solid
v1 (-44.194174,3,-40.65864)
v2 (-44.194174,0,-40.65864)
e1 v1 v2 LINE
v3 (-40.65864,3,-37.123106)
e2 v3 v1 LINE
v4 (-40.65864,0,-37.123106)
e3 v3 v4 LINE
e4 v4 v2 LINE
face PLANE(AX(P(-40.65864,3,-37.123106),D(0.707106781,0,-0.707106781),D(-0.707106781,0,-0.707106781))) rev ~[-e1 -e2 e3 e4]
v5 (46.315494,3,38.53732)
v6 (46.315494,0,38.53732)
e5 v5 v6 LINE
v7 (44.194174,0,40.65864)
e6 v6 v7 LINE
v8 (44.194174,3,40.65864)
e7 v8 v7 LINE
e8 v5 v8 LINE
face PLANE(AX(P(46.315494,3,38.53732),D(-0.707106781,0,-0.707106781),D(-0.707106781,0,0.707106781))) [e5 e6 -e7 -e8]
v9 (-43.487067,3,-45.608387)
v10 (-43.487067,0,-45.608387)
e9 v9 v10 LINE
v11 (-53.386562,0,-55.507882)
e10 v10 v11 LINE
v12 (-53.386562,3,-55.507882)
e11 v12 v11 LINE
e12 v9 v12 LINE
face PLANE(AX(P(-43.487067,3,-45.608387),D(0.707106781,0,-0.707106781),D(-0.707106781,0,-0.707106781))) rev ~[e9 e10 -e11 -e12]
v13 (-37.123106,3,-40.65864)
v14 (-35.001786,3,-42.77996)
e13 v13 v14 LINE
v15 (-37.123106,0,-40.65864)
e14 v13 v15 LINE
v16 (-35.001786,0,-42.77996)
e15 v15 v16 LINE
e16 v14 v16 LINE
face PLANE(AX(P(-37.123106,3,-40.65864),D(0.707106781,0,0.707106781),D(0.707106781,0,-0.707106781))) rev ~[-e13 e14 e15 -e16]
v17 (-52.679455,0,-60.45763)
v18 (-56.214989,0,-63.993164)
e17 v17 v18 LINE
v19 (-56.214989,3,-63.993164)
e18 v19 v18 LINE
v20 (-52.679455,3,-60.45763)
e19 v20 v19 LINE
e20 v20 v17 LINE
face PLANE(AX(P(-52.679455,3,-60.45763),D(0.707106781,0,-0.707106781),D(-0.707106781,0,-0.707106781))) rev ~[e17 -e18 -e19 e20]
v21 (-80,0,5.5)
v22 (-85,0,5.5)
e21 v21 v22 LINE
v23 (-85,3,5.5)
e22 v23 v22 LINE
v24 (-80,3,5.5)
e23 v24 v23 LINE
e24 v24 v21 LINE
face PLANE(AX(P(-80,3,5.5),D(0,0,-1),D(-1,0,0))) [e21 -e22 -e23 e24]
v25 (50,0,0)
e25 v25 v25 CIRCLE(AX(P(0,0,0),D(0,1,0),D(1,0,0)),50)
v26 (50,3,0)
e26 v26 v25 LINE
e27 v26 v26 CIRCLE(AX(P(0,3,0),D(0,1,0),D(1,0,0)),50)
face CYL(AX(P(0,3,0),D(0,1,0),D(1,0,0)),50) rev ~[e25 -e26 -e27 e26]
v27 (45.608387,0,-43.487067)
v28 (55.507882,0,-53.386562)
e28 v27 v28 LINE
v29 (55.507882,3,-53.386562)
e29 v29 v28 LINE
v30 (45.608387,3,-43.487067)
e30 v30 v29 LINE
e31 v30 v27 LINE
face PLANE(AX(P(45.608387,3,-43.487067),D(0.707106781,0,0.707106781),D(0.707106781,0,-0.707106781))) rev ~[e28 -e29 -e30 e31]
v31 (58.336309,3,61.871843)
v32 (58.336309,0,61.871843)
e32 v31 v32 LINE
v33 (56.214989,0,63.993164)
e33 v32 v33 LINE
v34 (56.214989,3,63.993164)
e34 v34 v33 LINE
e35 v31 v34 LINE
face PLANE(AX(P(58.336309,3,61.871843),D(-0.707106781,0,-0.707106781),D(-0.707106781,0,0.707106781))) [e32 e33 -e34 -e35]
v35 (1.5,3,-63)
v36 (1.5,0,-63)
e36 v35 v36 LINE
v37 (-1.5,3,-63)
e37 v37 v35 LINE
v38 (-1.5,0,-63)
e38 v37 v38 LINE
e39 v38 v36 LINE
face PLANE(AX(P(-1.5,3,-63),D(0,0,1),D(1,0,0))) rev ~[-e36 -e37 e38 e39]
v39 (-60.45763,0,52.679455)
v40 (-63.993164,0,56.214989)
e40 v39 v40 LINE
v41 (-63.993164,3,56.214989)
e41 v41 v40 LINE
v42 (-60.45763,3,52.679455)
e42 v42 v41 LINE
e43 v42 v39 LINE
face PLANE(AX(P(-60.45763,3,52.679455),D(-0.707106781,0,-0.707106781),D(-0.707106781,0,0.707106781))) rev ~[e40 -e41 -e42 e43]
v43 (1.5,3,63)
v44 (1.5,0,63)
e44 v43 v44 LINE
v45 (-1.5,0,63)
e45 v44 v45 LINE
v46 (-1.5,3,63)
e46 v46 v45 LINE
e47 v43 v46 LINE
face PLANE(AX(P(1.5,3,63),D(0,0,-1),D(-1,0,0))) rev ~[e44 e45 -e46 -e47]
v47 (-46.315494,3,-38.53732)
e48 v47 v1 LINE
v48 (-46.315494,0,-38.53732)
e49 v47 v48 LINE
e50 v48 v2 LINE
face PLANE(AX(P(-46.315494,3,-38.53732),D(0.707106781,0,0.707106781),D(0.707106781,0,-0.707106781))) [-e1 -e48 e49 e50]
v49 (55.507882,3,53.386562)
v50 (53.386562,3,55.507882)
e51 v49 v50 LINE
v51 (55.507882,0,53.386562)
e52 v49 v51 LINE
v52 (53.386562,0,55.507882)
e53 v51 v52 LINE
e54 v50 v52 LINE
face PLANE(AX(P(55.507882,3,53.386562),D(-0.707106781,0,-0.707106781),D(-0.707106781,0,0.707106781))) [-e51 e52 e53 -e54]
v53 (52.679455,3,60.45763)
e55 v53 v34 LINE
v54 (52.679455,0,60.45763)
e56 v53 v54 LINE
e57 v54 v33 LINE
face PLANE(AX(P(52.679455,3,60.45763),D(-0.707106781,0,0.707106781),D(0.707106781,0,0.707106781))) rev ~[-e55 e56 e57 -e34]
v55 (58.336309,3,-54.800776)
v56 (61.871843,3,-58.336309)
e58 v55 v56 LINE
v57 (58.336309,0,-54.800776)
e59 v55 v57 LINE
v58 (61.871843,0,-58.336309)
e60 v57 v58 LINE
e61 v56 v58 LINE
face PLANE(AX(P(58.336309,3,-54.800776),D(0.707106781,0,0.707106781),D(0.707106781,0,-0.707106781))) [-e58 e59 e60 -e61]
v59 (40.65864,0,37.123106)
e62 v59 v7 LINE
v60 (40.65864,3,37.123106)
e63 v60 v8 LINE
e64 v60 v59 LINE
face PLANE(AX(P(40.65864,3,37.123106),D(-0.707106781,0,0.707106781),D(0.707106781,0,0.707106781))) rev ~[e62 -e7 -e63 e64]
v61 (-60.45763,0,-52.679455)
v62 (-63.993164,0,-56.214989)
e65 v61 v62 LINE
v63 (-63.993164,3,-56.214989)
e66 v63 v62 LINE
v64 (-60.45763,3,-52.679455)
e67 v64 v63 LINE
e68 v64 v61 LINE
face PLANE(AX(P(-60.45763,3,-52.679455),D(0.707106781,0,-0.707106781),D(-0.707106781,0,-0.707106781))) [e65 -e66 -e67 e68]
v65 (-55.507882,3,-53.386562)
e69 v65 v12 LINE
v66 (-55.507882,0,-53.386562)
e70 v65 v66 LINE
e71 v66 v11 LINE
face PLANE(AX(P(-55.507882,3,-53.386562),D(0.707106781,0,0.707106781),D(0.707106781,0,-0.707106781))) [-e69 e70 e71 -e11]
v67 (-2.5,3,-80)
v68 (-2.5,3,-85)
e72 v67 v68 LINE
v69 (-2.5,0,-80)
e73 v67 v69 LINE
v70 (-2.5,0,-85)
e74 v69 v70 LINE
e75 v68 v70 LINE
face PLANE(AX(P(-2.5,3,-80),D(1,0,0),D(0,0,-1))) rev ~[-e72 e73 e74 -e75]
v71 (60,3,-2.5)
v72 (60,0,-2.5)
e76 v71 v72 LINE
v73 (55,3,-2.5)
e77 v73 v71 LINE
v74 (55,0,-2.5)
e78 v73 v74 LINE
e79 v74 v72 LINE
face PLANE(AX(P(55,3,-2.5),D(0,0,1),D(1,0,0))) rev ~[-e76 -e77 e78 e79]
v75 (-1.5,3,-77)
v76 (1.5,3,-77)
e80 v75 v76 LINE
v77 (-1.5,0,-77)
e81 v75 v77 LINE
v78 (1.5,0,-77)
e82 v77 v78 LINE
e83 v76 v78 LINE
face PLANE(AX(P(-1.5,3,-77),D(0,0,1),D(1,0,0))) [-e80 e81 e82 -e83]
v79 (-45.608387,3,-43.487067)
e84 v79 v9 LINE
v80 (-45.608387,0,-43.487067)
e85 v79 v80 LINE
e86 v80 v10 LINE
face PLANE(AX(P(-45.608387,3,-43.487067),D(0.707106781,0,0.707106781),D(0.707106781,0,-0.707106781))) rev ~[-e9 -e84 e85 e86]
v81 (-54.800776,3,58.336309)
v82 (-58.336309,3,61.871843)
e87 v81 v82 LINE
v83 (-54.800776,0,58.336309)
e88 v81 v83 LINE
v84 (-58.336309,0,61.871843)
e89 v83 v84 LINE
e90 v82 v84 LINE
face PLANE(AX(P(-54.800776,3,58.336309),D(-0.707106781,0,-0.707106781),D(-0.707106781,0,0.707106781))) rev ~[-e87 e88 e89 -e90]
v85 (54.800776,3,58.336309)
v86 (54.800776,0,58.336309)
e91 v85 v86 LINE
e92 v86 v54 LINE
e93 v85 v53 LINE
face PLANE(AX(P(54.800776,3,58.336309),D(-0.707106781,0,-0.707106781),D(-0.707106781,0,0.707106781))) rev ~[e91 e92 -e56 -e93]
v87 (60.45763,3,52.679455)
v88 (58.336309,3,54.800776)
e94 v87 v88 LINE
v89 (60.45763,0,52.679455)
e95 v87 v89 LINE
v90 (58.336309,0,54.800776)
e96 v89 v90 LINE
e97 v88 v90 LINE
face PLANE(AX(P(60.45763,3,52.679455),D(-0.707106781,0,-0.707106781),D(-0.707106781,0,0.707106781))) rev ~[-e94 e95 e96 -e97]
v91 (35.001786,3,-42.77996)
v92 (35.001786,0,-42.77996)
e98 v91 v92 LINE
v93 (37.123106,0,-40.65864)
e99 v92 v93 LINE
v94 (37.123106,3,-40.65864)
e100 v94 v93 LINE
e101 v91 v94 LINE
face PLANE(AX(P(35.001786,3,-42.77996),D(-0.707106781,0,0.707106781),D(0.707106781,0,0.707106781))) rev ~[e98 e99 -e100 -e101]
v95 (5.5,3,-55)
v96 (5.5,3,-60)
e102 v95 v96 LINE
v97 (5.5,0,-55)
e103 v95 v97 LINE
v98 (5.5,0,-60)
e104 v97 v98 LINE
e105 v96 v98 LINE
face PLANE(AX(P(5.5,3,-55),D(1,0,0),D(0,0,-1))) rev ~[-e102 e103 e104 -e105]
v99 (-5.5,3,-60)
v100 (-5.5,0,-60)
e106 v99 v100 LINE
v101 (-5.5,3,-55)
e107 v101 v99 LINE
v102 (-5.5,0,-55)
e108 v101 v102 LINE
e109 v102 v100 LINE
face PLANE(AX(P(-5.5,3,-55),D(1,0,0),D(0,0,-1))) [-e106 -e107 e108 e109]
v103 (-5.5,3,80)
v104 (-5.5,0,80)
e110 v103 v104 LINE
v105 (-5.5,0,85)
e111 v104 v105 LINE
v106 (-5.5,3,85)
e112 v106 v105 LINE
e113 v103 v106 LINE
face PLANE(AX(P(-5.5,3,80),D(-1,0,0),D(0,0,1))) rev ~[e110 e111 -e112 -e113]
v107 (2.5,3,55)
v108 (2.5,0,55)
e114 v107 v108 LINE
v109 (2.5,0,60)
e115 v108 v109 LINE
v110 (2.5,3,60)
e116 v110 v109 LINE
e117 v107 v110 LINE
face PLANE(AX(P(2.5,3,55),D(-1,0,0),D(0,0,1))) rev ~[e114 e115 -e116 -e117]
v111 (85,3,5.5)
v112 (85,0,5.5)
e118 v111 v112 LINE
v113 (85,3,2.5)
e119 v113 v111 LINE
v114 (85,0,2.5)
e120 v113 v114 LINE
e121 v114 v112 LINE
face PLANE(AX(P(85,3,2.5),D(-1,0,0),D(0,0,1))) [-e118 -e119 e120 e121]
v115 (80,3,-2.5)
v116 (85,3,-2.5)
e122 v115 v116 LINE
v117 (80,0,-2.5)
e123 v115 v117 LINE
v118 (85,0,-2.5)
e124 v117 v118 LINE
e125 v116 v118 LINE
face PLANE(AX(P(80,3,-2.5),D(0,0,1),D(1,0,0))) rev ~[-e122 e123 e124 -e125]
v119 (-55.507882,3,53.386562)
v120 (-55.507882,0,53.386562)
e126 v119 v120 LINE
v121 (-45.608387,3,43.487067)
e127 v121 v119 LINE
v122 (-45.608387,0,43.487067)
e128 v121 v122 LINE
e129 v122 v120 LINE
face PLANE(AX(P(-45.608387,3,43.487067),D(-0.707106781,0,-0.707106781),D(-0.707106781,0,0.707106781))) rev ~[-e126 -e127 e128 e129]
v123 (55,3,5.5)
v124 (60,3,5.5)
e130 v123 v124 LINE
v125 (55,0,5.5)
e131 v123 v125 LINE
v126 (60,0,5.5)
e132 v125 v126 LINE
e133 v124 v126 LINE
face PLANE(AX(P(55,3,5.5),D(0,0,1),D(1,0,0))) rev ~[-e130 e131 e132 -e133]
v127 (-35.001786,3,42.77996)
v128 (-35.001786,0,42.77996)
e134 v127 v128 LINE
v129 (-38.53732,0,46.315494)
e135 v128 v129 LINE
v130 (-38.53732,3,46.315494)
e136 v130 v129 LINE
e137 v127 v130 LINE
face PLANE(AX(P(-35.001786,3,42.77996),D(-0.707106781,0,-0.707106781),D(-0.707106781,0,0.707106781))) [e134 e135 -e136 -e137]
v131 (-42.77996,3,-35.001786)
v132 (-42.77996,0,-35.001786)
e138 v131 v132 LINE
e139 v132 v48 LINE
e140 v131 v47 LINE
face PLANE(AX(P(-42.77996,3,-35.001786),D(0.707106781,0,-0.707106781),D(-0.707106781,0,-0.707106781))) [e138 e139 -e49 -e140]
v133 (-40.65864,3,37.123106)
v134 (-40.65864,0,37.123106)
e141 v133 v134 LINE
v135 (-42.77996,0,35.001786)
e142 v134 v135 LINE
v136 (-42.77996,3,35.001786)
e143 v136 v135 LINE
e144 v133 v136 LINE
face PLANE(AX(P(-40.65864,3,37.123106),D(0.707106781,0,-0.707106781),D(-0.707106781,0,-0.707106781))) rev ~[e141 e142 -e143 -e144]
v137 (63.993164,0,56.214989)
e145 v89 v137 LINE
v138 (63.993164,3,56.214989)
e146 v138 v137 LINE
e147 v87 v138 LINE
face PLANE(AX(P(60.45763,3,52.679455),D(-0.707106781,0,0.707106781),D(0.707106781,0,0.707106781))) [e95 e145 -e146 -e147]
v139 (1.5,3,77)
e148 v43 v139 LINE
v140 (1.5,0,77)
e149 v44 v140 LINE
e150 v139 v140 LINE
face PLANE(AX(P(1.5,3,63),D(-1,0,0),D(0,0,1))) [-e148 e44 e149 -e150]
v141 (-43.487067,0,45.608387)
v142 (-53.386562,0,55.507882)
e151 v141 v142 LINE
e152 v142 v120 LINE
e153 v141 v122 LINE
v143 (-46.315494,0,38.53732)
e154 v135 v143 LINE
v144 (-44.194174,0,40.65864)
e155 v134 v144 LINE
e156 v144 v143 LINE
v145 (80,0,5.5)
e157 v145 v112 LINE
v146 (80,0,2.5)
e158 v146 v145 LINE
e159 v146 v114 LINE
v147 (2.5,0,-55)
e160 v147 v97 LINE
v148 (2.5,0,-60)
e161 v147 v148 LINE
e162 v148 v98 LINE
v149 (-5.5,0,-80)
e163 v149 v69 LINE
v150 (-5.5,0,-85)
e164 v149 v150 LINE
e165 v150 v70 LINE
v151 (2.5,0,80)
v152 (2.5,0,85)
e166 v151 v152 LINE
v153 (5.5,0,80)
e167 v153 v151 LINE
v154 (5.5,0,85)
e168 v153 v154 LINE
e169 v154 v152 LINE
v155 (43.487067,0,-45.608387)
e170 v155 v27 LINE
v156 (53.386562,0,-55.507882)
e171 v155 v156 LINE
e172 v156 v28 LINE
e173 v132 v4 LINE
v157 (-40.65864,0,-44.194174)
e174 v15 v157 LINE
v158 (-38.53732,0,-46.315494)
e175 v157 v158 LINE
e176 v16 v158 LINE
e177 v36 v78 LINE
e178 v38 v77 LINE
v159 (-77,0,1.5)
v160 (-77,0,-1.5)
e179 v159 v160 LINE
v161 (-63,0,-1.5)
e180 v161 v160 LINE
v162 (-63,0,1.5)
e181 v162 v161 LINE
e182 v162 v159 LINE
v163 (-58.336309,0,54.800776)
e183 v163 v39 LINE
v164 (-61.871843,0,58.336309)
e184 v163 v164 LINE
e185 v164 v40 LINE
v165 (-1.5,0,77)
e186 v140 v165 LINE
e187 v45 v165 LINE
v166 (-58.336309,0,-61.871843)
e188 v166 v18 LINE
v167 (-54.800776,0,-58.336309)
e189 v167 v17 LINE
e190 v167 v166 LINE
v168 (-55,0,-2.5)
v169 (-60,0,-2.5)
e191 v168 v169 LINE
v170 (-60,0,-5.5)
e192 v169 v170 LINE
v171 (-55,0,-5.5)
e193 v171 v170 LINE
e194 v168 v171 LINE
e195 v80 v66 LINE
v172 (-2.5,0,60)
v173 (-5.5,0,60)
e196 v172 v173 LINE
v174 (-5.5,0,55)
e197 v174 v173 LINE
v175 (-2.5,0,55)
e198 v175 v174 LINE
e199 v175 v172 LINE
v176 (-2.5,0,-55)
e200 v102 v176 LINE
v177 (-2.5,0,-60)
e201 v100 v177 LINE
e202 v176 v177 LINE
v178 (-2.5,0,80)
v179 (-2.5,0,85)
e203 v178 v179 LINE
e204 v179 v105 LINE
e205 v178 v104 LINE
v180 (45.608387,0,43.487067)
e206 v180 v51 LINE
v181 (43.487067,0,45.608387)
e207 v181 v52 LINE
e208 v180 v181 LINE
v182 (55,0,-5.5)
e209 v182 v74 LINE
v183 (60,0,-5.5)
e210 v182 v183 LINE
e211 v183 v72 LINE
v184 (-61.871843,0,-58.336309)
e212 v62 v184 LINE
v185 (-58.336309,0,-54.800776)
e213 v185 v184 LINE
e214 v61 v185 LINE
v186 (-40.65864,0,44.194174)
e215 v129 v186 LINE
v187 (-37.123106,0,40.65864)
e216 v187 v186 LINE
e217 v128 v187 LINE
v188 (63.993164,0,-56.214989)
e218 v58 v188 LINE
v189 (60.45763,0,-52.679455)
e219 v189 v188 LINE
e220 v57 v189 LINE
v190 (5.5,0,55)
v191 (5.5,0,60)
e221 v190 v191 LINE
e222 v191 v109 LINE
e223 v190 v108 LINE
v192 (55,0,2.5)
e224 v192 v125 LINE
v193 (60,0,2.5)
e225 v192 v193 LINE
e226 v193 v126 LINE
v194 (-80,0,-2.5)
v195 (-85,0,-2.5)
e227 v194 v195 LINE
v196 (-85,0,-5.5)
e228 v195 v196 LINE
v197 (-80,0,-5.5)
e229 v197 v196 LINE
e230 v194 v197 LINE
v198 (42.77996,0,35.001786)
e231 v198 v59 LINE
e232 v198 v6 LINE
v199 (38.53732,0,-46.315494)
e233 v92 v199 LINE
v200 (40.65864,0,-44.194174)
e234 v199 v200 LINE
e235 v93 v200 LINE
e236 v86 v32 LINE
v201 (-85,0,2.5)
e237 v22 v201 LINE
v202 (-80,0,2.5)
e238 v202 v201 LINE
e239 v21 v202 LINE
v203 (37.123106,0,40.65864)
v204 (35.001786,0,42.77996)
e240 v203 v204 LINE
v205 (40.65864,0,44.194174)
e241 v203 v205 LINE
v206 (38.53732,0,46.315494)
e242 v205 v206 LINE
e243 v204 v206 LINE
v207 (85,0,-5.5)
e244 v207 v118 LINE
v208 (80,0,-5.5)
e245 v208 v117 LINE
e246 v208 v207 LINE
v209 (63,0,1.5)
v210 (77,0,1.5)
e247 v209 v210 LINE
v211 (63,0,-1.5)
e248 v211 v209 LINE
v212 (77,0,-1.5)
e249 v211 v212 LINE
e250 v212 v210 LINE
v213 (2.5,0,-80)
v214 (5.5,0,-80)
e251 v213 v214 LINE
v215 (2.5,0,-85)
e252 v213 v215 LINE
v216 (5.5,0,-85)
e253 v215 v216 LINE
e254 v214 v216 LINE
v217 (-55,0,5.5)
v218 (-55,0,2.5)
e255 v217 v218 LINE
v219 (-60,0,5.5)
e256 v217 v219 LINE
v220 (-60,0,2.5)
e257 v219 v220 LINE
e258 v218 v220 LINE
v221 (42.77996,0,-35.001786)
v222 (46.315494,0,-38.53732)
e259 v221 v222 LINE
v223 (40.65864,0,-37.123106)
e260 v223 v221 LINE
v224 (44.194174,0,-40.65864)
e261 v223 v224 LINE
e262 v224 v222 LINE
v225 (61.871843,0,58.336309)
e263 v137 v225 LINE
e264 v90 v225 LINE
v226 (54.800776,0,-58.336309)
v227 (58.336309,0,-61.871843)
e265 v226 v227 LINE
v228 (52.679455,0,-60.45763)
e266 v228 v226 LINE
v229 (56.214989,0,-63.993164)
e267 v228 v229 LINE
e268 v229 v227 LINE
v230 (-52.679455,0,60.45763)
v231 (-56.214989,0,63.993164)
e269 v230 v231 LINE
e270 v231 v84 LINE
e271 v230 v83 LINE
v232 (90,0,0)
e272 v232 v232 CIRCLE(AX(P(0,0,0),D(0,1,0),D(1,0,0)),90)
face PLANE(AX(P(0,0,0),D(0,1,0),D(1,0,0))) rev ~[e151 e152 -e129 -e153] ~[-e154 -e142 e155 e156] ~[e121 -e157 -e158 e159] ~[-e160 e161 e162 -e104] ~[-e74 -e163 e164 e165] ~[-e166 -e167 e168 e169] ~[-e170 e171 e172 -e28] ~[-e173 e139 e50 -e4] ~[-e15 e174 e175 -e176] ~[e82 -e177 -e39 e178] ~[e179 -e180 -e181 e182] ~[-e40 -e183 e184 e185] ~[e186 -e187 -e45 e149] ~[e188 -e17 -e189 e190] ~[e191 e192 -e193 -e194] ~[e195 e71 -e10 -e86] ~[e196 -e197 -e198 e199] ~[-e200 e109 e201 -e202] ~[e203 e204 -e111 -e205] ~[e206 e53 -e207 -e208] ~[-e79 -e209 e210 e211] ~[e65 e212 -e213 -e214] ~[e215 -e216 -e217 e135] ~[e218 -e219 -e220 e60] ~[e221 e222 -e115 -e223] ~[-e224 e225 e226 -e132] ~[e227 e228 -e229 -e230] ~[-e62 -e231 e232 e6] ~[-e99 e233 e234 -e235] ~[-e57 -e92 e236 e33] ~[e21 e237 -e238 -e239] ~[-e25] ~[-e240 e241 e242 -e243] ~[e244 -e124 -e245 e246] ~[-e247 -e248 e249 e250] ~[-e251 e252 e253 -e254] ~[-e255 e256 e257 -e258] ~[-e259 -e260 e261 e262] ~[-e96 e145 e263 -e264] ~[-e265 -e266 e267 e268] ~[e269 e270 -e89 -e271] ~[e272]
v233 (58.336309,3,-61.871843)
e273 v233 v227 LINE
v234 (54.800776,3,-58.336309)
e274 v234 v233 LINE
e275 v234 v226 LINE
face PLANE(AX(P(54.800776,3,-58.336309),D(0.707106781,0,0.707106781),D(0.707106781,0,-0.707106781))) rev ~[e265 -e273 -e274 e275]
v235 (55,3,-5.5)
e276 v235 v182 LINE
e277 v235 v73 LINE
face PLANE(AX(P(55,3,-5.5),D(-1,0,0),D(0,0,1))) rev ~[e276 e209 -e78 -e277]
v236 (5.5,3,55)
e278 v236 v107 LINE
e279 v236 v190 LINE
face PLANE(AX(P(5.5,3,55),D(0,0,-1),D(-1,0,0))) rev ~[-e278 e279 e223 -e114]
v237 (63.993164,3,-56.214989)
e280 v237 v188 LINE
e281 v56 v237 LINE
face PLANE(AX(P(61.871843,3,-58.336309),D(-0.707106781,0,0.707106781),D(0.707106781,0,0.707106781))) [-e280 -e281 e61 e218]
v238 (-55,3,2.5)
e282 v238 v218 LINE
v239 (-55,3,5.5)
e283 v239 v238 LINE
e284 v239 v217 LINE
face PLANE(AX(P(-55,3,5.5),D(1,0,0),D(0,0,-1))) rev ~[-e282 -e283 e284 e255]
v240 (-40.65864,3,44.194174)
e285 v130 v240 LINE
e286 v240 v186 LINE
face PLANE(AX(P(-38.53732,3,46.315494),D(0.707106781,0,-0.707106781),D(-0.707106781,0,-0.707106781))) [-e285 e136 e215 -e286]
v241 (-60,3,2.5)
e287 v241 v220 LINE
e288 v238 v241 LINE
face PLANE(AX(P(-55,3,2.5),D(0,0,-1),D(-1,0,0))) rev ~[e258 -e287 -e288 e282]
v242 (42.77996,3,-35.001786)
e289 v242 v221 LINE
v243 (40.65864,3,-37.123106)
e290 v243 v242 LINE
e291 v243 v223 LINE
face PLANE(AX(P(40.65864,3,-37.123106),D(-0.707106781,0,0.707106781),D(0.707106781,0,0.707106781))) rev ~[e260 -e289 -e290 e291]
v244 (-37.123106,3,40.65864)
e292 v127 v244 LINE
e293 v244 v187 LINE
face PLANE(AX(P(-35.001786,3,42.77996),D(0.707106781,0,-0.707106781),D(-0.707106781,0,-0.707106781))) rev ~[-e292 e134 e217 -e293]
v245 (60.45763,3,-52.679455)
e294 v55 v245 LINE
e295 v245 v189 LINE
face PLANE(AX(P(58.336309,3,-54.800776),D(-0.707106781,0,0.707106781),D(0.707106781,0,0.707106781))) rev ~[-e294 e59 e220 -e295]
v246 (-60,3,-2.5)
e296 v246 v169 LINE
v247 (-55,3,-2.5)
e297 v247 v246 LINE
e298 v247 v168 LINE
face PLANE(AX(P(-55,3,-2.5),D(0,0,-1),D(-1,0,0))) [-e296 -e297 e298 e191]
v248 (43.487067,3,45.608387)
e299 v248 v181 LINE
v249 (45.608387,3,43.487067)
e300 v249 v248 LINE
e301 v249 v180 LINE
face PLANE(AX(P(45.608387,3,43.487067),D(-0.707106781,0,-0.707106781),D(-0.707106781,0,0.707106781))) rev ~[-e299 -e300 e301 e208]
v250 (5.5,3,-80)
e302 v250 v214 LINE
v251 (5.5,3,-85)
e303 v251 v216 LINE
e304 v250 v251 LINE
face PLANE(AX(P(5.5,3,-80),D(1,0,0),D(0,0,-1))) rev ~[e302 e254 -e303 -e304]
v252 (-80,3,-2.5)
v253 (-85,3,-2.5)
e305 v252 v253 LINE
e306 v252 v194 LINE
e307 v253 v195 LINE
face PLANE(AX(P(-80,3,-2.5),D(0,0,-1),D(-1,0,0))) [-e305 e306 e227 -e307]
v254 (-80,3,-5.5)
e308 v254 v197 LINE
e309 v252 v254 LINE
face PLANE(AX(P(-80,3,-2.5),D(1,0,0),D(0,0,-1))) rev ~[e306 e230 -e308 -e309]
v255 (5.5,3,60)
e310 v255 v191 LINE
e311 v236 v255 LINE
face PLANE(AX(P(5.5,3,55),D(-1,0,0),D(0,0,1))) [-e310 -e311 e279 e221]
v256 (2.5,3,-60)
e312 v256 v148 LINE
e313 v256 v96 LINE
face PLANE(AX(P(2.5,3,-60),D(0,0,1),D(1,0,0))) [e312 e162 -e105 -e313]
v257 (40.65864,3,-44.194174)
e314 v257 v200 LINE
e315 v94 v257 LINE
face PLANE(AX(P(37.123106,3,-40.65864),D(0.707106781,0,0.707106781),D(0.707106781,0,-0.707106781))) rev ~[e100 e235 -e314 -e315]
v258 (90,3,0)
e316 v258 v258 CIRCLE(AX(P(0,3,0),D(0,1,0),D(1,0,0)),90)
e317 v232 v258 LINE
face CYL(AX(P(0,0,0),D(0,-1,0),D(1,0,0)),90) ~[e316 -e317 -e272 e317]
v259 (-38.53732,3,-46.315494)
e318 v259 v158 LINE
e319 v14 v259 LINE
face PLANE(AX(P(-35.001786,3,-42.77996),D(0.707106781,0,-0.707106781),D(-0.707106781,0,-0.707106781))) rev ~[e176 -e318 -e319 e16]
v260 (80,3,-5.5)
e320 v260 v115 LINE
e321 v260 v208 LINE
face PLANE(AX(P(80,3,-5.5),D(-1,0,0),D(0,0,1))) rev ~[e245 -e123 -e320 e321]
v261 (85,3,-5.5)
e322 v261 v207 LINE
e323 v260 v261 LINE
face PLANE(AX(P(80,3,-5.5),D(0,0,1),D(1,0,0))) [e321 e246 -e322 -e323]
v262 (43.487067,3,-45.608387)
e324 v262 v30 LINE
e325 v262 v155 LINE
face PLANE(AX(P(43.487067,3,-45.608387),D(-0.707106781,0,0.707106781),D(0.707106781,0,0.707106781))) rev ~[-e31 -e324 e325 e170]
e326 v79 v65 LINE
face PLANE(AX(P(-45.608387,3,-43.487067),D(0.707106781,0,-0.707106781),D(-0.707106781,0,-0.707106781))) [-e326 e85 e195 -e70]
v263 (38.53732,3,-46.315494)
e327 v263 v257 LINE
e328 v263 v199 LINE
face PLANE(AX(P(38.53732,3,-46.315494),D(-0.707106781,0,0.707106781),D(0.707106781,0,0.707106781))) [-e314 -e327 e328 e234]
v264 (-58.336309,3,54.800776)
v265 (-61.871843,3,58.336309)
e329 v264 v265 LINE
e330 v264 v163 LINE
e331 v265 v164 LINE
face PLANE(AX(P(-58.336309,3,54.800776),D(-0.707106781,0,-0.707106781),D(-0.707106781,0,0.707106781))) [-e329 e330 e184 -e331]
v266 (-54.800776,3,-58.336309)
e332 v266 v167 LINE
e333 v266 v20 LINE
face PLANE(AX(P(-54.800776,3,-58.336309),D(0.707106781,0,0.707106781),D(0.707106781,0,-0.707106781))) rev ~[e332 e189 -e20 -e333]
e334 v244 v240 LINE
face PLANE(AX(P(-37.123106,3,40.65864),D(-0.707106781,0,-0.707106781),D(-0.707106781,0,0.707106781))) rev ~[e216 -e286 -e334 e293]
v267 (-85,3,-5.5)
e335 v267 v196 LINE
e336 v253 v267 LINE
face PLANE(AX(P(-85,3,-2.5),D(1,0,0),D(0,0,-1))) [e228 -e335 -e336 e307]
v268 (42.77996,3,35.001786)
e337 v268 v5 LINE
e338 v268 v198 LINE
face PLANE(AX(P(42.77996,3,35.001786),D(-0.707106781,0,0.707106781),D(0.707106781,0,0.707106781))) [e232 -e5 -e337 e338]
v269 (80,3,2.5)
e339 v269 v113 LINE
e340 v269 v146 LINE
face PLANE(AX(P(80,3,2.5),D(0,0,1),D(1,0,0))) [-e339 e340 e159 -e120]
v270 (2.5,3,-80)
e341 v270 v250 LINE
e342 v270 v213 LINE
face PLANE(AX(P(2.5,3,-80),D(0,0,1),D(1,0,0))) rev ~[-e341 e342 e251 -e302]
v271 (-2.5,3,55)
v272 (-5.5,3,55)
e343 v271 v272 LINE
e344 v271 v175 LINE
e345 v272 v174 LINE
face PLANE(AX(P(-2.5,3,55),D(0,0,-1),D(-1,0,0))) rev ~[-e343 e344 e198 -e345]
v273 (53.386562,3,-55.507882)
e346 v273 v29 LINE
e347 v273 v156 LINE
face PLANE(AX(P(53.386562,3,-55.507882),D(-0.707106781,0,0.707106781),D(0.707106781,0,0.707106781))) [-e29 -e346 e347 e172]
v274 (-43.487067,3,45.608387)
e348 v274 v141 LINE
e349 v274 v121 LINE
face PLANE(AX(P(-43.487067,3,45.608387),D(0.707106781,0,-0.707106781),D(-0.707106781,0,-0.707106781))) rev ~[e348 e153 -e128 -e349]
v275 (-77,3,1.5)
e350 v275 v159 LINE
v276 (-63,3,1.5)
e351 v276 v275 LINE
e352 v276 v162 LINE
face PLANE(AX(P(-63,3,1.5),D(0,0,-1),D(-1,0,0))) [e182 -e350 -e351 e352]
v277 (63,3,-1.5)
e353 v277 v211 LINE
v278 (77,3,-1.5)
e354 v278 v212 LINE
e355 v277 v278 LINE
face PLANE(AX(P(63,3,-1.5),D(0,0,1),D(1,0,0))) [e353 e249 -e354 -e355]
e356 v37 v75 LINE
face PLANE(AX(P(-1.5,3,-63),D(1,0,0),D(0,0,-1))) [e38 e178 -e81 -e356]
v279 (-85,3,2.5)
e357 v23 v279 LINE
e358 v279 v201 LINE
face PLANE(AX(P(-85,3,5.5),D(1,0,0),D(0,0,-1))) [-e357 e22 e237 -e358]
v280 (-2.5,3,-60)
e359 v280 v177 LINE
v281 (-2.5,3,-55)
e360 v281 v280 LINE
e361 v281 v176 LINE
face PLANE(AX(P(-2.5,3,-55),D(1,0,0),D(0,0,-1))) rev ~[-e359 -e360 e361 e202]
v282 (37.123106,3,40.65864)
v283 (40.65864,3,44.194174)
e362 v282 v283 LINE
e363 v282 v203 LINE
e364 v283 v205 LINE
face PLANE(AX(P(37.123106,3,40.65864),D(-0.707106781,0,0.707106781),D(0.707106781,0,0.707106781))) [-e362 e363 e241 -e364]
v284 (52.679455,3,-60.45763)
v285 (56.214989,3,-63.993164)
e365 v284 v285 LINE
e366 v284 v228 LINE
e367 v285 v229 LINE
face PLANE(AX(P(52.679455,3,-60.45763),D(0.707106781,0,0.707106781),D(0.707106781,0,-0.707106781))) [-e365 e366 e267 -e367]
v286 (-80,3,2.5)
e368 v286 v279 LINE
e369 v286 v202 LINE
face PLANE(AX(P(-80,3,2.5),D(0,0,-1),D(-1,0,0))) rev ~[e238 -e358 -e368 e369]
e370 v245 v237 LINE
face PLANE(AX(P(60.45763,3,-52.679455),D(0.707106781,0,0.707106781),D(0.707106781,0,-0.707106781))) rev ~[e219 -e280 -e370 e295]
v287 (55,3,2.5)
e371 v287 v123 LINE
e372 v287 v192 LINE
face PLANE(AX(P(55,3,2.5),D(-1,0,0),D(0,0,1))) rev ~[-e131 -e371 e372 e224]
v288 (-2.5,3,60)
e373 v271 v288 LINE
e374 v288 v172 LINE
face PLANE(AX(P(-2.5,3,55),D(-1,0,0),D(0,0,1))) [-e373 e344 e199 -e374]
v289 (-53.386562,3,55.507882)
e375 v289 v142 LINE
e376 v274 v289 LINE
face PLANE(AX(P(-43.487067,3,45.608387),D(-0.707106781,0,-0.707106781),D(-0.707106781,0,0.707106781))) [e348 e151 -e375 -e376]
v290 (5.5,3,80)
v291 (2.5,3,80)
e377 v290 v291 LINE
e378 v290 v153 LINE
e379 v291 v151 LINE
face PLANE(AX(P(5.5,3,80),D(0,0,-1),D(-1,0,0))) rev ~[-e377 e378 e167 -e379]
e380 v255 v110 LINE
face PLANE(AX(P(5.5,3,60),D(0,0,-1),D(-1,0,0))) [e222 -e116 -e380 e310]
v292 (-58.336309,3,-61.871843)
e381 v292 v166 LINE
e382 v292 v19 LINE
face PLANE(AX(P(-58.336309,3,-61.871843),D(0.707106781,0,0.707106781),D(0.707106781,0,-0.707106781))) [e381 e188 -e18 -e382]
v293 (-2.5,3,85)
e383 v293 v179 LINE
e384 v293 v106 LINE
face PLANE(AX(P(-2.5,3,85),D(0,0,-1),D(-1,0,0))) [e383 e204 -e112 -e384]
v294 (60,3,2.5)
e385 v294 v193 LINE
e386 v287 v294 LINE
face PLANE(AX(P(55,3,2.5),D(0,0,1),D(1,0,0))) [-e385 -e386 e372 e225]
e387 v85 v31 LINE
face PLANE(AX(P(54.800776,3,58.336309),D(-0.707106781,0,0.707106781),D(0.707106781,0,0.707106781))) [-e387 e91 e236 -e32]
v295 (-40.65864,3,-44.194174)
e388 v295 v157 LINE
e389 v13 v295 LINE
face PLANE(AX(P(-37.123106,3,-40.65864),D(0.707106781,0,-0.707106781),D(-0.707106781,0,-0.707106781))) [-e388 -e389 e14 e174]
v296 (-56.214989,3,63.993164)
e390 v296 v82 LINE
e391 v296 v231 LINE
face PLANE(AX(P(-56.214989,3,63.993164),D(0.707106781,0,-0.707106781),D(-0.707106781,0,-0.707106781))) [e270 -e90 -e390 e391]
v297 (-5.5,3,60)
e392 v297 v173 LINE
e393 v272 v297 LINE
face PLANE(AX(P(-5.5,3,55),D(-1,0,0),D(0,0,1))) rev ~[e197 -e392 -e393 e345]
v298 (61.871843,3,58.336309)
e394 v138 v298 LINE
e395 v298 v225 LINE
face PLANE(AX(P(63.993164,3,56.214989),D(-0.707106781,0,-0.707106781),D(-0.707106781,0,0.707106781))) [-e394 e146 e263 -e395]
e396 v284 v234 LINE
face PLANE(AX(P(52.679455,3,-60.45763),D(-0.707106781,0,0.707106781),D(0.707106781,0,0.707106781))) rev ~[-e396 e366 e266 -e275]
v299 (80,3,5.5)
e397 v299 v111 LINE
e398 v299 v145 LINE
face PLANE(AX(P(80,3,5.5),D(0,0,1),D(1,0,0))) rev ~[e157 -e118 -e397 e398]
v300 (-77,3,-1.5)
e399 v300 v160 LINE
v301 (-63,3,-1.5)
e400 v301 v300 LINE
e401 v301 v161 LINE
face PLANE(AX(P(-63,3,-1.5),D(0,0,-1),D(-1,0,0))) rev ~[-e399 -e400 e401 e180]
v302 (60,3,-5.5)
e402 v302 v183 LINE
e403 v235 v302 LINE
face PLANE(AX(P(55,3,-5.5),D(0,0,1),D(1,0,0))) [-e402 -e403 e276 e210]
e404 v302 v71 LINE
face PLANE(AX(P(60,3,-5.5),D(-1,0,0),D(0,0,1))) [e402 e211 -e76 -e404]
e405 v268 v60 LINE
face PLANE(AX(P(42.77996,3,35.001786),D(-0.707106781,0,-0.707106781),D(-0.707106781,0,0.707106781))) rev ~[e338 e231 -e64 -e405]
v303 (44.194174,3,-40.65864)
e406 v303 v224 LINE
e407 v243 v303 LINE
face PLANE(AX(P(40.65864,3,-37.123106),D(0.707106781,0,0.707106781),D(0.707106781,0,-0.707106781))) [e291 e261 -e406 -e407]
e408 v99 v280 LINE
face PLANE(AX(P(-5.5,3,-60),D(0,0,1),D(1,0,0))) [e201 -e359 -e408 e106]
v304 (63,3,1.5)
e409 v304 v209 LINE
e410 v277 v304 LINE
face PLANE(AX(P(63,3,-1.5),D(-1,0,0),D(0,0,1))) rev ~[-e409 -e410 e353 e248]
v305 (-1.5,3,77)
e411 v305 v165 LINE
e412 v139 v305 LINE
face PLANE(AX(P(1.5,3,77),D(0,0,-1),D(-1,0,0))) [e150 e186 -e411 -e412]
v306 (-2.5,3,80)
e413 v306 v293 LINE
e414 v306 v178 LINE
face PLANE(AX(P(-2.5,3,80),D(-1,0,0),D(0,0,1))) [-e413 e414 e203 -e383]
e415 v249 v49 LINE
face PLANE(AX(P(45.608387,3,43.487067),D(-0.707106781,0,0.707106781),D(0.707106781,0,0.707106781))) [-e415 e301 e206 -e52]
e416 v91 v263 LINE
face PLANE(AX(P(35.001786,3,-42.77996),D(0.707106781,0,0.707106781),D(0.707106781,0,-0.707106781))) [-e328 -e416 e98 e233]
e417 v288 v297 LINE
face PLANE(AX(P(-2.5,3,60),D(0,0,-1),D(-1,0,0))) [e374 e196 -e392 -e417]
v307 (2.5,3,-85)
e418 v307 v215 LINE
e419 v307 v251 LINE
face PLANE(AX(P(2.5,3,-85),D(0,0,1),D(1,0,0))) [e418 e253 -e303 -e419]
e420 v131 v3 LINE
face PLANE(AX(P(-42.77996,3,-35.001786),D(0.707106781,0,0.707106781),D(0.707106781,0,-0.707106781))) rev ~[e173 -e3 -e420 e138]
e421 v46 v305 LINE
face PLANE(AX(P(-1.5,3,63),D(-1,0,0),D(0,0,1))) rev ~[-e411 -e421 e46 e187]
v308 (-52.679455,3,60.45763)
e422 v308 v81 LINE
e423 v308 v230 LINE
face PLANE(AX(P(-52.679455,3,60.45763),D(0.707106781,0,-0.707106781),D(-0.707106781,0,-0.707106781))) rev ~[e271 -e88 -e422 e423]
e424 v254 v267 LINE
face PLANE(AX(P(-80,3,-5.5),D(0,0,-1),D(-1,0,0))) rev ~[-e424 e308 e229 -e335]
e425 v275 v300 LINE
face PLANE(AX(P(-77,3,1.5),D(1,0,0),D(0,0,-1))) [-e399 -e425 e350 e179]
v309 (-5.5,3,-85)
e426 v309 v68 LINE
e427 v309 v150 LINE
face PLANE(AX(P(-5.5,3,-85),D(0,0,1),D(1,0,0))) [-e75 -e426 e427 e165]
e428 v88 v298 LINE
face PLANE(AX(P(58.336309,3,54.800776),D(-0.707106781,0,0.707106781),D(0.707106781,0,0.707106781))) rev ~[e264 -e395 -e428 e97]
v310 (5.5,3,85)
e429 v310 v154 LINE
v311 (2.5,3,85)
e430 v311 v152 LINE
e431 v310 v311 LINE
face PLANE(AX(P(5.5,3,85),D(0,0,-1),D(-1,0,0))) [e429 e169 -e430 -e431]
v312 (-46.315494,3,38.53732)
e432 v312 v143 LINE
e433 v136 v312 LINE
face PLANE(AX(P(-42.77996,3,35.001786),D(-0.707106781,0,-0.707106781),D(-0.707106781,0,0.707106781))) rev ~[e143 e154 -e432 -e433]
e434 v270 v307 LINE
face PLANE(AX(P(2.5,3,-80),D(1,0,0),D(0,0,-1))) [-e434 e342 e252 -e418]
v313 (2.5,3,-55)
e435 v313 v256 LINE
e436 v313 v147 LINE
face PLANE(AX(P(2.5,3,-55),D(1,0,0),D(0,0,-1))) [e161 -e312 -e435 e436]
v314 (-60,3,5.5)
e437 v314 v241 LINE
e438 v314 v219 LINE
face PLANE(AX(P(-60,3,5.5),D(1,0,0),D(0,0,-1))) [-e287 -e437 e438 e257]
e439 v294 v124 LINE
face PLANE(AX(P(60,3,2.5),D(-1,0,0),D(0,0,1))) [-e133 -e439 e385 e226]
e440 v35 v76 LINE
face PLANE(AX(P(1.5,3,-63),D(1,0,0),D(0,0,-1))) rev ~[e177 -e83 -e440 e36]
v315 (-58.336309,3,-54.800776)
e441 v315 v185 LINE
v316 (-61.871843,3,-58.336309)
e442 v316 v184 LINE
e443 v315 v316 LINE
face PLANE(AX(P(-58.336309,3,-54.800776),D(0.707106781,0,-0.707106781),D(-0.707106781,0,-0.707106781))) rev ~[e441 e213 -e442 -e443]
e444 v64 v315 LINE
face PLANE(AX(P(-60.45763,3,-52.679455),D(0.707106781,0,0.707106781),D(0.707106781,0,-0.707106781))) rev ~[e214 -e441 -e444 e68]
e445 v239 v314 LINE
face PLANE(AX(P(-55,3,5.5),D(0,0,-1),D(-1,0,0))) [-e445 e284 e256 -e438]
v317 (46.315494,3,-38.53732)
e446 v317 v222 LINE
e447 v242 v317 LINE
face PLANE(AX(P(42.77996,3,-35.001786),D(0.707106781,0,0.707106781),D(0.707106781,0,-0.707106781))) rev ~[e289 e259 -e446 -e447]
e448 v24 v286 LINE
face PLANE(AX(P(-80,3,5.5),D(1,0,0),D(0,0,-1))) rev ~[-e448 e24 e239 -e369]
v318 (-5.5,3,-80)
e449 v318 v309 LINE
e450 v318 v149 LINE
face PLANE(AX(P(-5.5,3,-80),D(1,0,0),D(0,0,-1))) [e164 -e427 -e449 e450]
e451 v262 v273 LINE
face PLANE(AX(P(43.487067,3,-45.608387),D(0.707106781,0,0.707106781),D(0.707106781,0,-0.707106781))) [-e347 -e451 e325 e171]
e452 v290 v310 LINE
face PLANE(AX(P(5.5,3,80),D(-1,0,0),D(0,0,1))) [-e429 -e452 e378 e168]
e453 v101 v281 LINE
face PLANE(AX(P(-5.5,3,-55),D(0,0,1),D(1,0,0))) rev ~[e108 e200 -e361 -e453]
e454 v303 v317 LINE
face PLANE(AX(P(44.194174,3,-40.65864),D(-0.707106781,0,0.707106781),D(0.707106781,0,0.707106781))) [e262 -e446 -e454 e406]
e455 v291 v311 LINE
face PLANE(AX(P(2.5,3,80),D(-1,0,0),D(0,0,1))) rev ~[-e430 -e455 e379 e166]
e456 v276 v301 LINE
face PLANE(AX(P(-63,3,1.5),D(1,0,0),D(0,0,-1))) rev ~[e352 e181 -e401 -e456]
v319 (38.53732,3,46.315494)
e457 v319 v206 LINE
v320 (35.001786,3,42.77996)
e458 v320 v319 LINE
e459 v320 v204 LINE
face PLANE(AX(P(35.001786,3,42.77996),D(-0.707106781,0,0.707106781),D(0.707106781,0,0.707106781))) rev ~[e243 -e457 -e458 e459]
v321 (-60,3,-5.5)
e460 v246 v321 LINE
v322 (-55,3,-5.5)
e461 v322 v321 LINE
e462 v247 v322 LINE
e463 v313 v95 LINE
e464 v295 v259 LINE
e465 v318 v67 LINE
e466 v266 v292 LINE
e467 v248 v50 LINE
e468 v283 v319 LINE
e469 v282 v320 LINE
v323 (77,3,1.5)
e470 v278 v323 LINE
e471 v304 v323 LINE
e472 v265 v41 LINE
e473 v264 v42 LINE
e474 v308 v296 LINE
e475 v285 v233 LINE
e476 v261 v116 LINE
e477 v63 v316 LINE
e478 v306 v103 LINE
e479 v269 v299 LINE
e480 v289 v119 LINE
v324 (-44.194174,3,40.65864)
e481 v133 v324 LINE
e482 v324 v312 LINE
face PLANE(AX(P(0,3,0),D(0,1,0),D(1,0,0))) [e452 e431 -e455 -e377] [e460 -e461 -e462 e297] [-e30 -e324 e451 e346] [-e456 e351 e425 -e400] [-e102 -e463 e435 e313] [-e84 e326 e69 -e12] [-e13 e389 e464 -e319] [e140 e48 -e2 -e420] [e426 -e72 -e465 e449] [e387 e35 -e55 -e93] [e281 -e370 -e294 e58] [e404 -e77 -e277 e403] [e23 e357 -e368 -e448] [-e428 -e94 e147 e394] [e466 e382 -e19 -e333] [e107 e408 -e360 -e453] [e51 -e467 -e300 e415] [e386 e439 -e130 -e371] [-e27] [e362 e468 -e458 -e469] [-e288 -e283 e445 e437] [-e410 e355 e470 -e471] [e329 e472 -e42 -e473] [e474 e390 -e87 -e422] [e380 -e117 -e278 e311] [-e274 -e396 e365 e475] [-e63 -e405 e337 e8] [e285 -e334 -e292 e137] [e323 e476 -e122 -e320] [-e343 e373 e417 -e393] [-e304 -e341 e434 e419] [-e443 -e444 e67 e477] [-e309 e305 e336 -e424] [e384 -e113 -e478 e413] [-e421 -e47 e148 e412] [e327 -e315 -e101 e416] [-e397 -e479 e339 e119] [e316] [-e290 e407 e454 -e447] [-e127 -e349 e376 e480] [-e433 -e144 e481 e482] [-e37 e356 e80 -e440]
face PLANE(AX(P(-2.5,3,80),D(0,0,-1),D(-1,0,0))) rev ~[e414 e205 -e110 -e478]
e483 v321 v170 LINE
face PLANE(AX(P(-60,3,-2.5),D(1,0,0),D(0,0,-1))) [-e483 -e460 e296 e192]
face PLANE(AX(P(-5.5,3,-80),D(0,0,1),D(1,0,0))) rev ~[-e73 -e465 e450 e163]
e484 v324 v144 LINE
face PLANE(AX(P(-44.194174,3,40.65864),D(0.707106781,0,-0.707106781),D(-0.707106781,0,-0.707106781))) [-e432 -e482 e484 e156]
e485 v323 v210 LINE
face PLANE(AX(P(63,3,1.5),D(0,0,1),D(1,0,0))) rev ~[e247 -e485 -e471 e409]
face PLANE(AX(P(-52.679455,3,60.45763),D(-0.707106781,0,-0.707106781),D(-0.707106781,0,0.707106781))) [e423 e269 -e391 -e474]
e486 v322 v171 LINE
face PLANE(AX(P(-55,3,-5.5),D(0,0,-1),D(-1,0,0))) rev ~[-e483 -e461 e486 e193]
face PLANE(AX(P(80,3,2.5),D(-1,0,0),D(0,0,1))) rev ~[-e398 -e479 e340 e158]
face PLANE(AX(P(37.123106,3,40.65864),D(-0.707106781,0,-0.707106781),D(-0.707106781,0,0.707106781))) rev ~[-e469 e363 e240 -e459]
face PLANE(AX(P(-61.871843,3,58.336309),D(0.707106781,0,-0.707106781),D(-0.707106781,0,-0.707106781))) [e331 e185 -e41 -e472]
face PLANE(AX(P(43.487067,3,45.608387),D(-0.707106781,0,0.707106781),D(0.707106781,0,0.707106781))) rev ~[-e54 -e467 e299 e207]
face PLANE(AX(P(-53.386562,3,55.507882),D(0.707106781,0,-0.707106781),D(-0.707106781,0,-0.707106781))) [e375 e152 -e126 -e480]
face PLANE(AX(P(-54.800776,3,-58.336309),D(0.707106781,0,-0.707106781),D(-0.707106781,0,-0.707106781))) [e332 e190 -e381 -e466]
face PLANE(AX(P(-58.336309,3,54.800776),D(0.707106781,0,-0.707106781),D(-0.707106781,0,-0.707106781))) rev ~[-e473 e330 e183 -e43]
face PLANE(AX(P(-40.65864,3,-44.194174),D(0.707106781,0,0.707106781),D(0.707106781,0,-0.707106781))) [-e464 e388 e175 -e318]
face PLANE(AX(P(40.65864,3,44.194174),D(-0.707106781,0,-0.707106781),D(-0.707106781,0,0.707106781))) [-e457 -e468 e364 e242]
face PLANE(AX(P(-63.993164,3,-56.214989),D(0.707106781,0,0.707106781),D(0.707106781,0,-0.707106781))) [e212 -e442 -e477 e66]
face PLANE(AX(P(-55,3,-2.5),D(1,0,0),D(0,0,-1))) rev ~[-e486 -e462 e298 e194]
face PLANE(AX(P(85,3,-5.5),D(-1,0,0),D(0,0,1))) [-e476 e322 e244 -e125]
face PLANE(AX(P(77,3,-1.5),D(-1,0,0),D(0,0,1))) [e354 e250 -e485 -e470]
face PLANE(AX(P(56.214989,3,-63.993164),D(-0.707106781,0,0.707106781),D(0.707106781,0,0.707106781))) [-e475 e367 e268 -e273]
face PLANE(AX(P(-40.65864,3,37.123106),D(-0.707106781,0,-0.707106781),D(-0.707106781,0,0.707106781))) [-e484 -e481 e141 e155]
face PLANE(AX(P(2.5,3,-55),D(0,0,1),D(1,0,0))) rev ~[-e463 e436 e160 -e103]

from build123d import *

# Parameters (mm, degrees)
SKETCH1_R           = 90
BOSS_EXTRUDE1_DEPTH = 3
SKETCH2_W           = 3
SKETCH2_H           = 14
CUT_EXTRUDE2_DEPTH  = 3
CIRPATTERN1_COUNT   = 8
SKETCH16_W          = 3
SKETCH16_H          = 5
CUT_EXTRUDE5_DEPTH  = 3
CIRPATTERN2_COUNT   = 8
SKETCH24_R          = 50
CUT_EXTRUDE6_DEPTH  = 3


with BuildPart() as part:
    # Sketch1 → Boss-Extrude1 (new body)
    with BuildSketch(Plane(origin=(0, 0, 0), x_dir=(1, 0, 0), z_dir=(0, 1, 0))):
        Circle(SKETCH1_R)
    extrude(amount=BOSS_EXTRUDE1_DEPTH)

    # Sketch2 → Cut-Extrude2 (cut)
    with BuildSketch(Plane(origin=(0, 3, 0), x_dir=(1, 0, 0), z_dir=(0, 1, 0))):
        with Locations((0, 70)):
            Rectangle(SKETCH2_W, SKETCH2_H)
    cut_extrude2 = extrude(amount=-CUT_EXTRUDE2_DEPTH, mode=Mode.SUBTRACT)

    # CirPattern1: Cut-Extrude2 ×8 about axis
    cirpattern1_axis = Axis((0, 0, 0), (0, 1, 0))
    for i in range(1, CIRPATTERN1_COUNT):
        add(cut_extrude2.rotate(cirpattern1_axis, i * 360 / CIRPATTERN1_COUNT), mode=Mode.SUBTRACT)

    # Sketch16 → Cut-Extrude5 (cut)
    with BuildSketch(Plane(origin=(0, 3, 0), x_dir=(1, 0, 0), z_dir=(0, 1, 0))):
        with Locations((-4, 82.5)):
            Rectangle(SKETCH16_W, SKETCH16_H)
        with Locations((4, 82.5)):
            Rectangle(SKETCH16_W, SKETCH16_H)
        with Locations((-4, 57.5)):
            Rectangle(SKETCH16_W, SKETCH16_H)
        with Locations((4, 57.5)):
            Rectangle(SKETCH16_W, SKETCH16_H)
    cut_extrude5 = extrude(amount=-CUT_EXTRUDE5_DEPTH, mode=Mode.SUBTRACT)

    # CirPattern2: Cut-Extrude5 ×8 about axis
    cirpattern2_axis = Axis((0, 0, 0), (0, 1, 0))
    for i in range(1, CIRPATTERN2_COUNT):
        add(cut_extrude5.rotate(cirpattern2_axis, i * 360 / CIRPATTERN2_COUNT), mode=Mode.SUBTRACT)

    # Sketch24 → Cut-Extrude6 (cut)
    with BuildSketch(Plane(origin=(0, 3, 0), x_dir=(1, 0, 0), z_dir=(0, 1, 0))):
        Circle(SKETCH24_R)
    extrude(amount=-CUT_EXTRUDE6_DEPTH, mode=Mode.SUBTRACT)


solid = part.part
